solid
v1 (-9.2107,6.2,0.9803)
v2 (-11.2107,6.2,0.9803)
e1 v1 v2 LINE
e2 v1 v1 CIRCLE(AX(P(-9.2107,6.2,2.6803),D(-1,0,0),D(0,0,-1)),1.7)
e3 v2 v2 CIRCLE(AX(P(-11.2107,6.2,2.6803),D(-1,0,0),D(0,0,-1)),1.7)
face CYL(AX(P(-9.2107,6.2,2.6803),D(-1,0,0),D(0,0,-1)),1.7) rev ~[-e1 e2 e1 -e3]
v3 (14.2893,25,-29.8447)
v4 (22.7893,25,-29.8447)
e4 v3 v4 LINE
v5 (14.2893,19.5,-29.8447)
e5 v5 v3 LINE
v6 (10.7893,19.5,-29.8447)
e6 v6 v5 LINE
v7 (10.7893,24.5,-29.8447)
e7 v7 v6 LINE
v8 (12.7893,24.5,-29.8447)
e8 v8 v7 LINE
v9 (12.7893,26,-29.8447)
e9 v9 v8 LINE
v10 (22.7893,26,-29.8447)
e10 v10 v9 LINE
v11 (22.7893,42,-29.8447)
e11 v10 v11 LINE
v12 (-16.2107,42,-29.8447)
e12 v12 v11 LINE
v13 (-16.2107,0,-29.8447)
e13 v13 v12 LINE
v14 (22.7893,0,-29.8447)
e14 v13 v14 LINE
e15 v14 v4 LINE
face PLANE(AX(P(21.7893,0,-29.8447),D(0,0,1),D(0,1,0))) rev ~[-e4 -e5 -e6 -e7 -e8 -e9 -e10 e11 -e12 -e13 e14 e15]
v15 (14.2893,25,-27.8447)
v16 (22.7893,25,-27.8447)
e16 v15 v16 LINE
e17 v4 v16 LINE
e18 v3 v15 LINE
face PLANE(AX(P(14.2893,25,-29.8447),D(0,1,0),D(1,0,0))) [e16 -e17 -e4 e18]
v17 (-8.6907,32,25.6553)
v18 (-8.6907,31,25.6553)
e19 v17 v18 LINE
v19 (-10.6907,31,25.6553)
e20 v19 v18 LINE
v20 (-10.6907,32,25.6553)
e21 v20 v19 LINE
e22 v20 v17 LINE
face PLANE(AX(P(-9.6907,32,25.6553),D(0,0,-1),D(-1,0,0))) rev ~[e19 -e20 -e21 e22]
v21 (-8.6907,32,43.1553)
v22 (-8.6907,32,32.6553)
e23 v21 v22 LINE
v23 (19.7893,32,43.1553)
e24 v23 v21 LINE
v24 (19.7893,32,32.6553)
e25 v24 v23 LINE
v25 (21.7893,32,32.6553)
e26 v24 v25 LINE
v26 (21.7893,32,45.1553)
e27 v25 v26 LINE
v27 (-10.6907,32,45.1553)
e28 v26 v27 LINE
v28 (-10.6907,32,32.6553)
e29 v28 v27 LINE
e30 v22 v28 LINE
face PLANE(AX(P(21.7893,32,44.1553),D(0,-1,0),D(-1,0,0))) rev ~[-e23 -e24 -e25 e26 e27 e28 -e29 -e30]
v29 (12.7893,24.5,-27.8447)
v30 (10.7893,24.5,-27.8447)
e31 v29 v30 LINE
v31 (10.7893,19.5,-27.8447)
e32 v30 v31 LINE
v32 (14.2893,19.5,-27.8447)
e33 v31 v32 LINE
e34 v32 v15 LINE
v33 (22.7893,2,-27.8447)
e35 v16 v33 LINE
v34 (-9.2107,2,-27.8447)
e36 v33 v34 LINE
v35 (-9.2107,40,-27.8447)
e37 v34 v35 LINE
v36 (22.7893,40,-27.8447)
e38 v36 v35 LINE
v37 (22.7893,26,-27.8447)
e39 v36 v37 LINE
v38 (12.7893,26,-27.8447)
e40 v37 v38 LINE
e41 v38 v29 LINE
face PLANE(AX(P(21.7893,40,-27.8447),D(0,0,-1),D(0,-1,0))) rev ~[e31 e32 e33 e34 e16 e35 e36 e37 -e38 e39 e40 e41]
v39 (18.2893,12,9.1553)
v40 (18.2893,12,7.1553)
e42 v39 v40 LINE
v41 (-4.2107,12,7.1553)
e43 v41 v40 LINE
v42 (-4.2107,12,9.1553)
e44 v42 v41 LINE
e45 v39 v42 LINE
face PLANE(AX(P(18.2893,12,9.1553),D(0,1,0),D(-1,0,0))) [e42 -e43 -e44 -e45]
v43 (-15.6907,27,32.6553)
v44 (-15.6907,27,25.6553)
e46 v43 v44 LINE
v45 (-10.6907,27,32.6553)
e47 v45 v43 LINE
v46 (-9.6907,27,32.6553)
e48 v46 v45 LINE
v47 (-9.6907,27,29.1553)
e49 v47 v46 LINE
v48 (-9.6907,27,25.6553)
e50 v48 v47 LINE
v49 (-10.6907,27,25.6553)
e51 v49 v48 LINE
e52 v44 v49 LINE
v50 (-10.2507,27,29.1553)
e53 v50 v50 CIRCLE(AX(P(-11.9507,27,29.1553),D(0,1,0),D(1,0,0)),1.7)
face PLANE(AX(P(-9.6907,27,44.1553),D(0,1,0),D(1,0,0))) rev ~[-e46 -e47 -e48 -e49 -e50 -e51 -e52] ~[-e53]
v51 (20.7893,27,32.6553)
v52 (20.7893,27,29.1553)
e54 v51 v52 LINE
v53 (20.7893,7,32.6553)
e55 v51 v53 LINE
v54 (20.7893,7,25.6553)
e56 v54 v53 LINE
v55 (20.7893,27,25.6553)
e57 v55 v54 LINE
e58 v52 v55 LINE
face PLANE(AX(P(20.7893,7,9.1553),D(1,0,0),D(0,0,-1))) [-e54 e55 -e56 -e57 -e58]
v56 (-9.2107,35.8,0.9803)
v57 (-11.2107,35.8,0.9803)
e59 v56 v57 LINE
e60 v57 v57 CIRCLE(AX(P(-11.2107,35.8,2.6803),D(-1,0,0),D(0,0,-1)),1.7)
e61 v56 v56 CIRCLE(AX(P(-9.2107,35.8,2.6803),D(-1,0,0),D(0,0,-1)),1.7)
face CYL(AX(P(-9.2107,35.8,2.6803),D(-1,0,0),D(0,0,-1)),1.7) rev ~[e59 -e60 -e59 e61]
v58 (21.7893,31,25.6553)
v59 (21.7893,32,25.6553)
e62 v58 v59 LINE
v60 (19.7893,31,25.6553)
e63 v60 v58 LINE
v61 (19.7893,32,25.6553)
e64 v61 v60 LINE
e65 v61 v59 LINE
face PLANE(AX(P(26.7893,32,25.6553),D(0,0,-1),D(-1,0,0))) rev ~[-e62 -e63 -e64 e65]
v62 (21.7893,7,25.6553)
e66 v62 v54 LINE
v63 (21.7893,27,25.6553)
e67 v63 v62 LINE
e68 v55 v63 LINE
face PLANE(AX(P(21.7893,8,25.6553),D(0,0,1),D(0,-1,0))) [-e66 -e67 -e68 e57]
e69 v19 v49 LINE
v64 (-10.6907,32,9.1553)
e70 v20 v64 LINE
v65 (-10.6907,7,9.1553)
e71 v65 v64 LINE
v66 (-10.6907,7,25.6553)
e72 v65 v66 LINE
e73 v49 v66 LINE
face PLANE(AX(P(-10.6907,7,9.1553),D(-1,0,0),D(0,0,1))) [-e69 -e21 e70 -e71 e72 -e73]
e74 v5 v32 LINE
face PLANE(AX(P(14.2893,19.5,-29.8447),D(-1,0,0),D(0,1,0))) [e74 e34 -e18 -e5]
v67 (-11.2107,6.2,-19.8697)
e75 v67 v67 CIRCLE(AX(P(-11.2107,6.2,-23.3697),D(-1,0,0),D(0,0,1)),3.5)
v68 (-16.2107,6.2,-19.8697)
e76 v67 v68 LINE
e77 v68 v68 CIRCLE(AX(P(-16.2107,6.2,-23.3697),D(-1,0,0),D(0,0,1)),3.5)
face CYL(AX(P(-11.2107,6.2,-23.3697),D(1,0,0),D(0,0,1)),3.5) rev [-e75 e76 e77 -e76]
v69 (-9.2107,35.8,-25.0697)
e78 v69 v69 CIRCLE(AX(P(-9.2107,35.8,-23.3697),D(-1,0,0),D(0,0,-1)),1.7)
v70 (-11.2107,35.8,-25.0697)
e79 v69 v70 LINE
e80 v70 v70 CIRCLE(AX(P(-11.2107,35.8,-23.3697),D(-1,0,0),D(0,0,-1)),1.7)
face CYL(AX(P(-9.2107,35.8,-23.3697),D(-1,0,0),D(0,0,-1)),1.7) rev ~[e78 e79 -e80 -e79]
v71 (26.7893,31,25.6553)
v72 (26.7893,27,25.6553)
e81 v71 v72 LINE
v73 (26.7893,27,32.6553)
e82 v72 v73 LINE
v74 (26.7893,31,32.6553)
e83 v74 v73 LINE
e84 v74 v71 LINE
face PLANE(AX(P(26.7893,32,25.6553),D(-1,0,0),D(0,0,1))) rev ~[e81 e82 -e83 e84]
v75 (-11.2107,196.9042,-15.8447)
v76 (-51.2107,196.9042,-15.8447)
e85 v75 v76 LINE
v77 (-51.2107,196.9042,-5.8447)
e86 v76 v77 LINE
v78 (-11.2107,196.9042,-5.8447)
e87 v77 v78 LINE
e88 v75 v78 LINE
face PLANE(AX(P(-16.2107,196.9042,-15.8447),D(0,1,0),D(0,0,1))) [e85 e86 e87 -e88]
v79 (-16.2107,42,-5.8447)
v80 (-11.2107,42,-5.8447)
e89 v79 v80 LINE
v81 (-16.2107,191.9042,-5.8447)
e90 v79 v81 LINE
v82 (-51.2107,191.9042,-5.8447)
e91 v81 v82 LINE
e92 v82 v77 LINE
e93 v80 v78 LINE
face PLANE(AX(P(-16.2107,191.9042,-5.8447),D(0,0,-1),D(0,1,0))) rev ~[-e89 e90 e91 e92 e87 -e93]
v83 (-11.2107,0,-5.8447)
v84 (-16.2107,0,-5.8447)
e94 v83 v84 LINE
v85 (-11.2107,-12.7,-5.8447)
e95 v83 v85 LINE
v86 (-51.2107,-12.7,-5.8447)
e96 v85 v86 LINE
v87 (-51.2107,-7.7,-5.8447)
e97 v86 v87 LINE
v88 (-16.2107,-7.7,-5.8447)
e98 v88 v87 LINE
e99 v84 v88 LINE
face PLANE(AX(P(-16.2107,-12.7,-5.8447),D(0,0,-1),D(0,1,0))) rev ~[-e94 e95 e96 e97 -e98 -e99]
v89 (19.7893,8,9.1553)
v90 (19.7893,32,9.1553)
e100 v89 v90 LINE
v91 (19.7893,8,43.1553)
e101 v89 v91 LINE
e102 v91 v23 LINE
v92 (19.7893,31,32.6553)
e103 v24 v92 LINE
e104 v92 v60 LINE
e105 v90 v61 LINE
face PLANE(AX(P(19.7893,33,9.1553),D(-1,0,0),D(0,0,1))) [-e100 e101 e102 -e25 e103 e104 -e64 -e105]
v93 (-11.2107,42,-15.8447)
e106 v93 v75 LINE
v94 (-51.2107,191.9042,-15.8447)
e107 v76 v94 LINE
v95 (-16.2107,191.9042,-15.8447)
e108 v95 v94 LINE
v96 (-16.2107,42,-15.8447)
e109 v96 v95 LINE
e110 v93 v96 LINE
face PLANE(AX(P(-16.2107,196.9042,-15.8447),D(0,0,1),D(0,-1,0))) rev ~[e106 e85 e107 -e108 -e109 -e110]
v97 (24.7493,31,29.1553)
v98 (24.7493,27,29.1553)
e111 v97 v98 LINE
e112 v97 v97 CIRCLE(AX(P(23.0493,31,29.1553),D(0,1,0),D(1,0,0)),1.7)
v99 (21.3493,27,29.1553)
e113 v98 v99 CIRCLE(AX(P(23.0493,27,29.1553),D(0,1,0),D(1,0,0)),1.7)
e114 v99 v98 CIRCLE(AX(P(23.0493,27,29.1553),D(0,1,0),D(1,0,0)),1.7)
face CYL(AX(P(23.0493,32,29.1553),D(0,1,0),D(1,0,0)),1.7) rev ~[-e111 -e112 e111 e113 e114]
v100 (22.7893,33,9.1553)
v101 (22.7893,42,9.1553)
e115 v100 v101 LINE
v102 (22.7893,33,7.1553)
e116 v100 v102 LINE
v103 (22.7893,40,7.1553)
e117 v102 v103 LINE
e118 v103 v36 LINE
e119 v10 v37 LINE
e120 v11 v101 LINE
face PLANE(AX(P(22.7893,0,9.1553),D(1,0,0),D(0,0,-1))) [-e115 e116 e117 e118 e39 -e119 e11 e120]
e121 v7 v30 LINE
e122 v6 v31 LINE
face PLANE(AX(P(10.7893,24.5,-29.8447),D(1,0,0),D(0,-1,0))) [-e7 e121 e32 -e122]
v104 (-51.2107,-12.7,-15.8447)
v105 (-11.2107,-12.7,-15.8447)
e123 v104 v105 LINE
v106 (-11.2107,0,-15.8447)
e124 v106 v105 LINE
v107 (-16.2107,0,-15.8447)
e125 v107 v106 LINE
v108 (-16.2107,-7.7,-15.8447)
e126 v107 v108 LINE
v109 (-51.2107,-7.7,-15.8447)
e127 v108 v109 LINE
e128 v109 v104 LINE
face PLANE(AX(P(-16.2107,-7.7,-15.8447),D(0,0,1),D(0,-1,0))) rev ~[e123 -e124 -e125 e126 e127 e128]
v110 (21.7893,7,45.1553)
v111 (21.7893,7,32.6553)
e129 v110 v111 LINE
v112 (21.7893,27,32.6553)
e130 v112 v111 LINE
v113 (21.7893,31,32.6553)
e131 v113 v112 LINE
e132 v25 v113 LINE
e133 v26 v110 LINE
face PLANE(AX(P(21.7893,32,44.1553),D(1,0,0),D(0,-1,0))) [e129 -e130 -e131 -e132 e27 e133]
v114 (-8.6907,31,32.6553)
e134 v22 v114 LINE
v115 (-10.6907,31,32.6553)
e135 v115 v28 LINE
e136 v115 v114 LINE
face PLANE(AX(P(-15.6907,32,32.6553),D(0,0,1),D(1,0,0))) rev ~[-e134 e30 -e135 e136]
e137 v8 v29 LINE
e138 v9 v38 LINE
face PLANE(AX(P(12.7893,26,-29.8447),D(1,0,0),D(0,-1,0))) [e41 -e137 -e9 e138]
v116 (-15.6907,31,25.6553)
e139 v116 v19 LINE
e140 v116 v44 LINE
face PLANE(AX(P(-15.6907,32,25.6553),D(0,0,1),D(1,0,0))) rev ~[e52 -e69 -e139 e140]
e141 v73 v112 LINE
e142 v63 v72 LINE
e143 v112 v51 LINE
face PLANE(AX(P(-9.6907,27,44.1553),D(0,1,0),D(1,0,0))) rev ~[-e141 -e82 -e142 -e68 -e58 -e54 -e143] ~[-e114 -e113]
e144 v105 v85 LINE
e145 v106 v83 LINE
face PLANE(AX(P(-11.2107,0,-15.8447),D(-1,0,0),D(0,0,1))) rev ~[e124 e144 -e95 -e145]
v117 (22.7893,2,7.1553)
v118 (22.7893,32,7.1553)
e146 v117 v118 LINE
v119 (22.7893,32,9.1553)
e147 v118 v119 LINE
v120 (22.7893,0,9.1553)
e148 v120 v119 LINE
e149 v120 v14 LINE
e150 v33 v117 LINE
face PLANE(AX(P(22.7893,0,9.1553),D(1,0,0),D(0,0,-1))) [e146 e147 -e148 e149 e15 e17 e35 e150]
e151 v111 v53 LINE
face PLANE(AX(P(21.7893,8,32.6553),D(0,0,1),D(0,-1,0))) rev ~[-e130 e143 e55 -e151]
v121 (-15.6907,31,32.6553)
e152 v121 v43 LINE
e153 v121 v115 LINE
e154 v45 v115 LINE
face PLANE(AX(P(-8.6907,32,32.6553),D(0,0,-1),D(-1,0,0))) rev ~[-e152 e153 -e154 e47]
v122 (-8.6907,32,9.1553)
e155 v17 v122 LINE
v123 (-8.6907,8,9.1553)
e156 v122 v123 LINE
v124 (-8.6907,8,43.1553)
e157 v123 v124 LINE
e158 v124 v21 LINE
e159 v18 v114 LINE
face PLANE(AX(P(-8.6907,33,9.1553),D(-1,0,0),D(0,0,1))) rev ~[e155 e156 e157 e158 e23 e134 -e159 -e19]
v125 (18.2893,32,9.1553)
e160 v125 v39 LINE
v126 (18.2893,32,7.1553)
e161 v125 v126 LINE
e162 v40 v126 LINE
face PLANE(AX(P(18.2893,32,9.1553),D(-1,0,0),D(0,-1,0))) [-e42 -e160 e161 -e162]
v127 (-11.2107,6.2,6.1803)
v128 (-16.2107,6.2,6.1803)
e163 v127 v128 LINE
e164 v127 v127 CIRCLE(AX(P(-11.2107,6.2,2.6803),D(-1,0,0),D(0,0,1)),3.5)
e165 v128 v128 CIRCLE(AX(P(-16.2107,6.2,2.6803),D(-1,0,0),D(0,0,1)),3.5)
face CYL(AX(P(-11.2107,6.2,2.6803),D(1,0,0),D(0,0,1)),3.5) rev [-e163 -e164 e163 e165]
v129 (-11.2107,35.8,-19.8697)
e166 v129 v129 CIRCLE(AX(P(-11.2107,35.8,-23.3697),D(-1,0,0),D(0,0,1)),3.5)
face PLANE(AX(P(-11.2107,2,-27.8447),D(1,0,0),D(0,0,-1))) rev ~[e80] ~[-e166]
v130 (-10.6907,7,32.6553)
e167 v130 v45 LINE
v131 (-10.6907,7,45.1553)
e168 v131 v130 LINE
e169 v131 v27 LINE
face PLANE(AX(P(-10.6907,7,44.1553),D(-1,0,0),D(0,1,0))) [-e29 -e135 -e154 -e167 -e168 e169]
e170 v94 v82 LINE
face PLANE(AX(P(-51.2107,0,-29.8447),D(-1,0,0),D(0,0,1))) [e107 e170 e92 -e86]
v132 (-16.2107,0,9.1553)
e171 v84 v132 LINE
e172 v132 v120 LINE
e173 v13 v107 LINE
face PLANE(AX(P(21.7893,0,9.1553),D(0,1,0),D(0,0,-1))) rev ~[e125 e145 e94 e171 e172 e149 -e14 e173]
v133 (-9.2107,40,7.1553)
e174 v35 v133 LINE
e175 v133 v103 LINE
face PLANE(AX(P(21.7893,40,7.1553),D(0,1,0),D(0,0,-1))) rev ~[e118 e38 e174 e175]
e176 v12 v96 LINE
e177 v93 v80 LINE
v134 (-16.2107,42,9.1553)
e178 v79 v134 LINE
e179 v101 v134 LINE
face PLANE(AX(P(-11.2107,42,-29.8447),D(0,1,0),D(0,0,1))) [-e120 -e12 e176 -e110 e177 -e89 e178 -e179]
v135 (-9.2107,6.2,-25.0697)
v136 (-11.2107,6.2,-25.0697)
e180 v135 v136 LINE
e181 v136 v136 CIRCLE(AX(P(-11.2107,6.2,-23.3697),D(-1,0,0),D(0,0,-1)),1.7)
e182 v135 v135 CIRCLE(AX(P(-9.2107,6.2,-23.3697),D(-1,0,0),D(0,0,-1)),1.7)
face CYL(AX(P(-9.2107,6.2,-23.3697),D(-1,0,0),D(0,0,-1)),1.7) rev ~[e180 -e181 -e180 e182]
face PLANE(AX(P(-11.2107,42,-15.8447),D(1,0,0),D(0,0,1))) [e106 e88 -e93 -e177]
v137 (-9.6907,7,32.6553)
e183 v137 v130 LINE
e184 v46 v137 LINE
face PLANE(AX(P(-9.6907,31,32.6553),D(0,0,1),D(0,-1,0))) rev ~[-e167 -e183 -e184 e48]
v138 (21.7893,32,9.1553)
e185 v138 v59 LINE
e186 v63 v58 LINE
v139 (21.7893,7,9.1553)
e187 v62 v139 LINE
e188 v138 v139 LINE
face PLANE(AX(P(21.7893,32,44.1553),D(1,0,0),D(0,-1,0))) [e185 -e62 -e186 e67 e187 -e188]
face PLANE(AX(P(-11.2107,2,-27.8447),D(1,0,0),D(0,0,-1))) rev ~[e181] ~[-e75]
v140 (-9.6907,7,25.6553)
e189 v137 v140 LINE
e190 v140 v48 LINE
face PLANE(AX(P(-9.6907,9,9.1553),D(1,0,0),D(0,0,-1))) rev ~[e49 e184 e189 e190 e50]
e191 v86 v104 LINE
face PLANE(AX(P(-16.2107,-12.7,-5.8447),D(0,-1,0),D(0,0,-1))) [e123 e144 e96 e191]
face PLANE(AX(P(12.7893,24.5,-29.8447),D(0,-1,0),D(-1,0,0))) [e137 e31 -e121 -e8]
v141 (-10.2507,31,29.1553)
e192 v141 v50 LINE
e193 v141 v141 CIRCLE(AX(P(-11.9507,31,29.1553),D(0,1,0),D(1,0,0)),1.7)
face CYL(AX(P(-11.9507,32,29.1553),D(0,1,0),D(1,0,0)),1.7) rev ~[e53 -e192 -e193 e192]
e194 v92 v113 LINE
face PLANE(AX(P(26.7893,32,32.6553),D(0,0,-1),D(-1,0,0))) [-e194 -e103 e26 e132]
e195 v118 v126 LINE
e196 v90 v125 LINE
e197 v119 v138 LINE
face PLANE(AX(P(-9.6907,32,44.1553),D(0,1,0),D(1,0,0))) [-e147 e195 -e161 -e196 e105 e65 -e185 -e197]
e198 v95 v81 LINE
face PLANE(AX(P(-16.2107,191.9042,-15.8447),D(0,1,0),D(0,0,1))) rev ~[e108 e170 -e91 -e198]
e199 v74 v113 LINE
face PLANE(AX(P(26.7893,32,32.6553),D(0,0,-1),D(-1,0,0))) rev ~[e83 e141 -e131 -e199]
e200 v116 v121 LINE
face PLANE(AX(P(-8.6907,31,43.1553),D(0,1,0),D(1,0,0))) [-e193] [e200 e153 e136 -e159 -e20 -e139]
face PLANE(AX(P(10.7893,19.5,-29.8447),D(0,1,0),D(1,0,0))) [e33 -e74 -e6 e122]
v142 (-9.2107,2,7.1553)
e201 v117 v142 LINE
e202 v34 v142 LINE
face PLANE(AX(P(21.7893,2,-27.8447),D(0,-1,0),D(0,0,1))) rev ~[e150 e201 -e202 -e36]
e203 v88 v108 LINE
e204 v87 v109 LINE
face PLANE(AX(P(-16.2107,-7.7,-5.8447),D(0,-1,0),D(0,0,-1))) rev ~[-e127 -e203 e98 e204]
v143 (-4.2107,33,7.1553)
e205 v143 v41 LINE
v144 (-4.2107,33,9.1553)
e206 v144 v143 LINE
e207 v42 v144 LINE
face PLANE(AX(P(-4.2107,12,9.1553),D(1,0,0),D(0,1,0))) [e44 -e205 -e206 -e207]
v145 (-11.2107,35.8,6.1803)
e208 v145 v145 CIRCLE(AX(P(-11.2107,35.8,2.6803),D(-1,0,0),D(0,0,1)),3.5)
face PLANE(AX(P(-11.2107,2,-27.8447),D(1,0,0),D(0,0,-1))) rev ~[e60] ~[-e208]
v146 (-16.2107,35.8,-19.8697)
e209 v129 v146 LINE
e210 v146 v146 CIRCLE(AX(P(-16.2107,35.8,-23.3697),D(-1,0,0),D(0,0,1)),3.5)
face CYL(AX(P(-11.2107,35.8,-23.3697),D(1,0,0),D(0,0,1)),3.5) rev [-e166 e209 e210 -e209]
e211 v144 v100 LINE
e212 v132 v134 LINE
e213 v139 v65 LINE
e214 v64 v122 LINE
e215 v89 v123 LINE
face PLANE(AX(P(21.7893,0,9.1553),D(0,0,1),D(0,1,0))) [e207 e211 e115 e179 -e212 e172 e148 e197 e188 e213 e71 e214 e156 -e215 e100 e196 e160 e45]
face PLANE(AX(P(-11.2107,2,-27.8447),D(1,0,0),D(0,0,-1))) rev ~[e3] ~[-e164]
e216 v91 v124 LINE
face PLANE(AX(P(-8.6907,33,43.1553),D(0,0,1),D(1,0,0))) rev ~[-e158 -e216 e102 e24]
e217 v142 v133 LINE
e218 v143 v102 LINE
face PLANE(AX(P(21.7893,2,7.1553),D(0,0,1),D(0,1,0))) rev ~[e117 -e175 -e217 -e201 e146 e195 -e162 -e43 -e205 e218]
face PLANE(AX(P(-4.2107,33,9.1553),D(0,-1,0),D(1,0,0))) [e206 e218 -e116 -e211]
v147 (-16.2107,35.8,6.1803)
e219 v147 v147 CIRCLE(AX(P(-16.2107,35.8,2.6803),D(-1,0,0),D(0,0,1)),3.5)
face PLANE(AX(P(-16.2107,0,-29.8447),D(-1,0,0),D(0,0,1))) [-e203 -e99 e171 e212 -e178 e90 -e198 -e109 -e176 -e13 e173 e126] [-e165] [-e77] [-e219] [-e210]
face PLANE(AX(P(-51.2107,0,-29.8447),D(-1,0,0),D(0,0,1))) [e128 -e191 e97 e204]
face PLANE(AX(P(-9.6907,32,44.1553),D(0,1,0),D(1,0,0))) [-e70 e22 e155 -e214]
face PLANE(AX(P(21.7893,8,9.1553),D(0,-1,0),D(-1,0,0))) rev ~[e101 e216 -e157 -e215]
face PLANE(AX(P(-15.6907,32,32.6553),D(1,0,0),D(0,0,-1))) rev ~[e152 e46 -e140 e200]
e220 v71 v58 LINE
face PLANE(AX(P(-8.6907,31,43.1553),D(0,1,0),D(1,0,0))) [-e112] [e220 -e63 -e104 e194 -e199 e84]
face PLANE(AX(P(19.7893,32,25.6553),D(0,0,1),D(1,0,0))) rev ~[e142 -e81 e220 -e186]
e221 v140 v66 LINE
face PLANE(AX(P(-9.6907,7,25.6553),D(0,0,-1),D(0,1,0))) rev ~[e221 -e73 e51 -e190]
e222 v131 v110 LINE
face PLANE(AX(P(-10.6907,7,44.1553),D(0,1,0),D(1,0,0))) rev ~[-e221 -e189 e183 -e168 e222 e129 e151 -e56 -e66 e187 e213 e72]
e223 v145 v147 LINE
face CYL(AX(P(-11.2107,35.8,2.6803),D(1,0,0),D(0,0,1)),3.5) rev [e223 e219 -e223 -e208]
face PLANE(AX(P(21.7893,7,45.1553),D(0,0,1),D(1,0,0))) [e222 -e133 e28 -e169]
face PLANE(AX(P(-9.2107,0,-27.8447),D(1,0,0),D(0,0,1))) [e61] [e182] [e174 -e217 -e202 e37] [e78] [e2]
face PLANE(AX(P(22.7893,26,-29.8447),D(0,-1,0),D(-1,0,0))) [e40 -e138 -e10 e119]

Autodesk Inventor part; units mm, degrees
ref_plane "YZ Plane" through (0, 0, 0) normal (1, 0, 0) x (0, 1, 0)
ref_plane "XZ Plane" through (0, 0, 0) normal (0, 1, 0) x (-1, 0, 0)
ref_plane "XY Plane" through (0, 0, 0) normal (0, 0, 1) x (1, 0, 0)
sketch "Sketch1" plane through (0, 0, 0) normal (0, 1, 0) x (-1, 0, 0)
  line L0 (9.2107, 7.1553) -> (-19.7893, 7.1553)
  line L1 (-19.7893, 7.1553) -> (-19.7893, -27.8447)
  line L2 (-19.7893, -27.8447) -> (9.2107, -27.8447)
  line L3 (9.2107, -27.8447) -> (9.2107, 7.1553)
  line L4 (9.2107, 7.1553) -> (11.2107, 7.1553)
  line L5 (11.2107, 7.1553) -> (11.2107, 9.1553)
  line L6 (11.2107, 9.1553) -> (-21.7893, 9.1553)
  line L7 (-21.7893, 9.1553) -> (-21.7893, -29.8447)
  line L8 (-21.7893, -29.8447) -> (11.2107, -29.8447)
  line L9 (11.2107, -29.8447) -> (11.2107, 7.1553)
  point P0 (0, 0)
  dimension "d0" = 29
  dimension "d1" = 35
  dimension "d2" = 2
  dimension "d3" = 2
  dimension "d4" = 33
  dimension "d5" = 39
extrude "Extrusion1" add sketch "Sketch1" along normal blind 2 contours L3 L2 L1 L0
extrude "Extrusion2" add sketch "Sketch1" along normal blind 40
sketch "Sketch2" plane through (21.7893, 0, -29.8447) normal (1, 0, 0) x (0, 0, -1)
  line L0 (-37, 2) -> (-37, 40) projected
  line L1 (-37, 40) -> (-37, 2)
  line L2 (-2, 2) -> (-2, 40) projected
  line L3 (-37, 2) -> (-2, 2)
  line L4 (-2, 2) -> (-2, 40)
  line L5 (-37, 40) -> (-2, 40) projected
  line L6 (-2, 40) -> (-37, 40)
extrude "Extrusion3" cut sketch "Sketch2" against normal blind 10
sketch "Sketch3" plane through (-9.2107, 2, -27.8447) normal (1, 0, 0) x (0, 0, -1)
  line L0 (0, 0) -> (0, 38) projected
  line L1 (0, 0) -> (0, 4.2)
  line L2 (0, 4.2) -> (-4.475, 4.2)
  line L3 (-35, 0) -> (-35, 38) projected
  line L4 (-4.475, 4.2) -> (-30.525, 4.2)
  line L5 (-30.525, 4.2) -> (-30.525, 33.8)
  line L6 (-30.525, 33.8) -> (-4.475, 33.8)
  line L7 (-4.475, 33.8) -> (-4.475, 4.2)
  point P0 (-27.8447, -2)
  dimension "d12" = 4.2
  dimension "d13" = 4.475
  dimension "d14" = 26.05
  dimension "d15" = 29.6
hole "Hole1" at (-9.2107, 35.8, 2.6803) at (-9.2107, 35.8, -23.3697) at (-9.2107, 6.2, -23.3697) at (-9.2107, 6.2, 2.6803) direction (-1, 0, 0) diameter 3.4 end through all clearance for "Flat Head Machine Screw" size "M3" standard "Ansi Metric M Profile"
sketch "Sketch4" plane through (-11.2107, 2, -27.8447) normal (1, 0, 0) x (0, 0, -1)
  line L0 (-37, 38) -> (-35, 38) projected
  line L1 (-37, 38) -> (2, 38)
  line L2 (2, 38) -> (2, 40)
  line L3 (2, 40) -> (-37, 40)
  line L4 (-37, 40) -> (-37, 38)
  point P0 (-27.8447, -2)
  dimension "d23" = 39
  dimension "d24" = 2
extrude "Extrusion4" add sketch "Sketch4" along normal blind 33
sketch "Sketch5" plane through (21.7893, 0, 9.1553) normal (1, 0, 0) x (0, 0, -1)
  point P0 (9.1553, 0)
sketch "Sketch6" plane through (-11.2107, 0, -29.8447) normal (-1, 0, 0) x (0, 0, 1)
  point P0 (29.8447, 0)
sketch "Sketch7" plane through (-11.2107, 0, -29.8447) normal (-1, 0, 0) x (0, 0, 1)
  circle A0 centre (6.475, 6.2) radius 1.7 projected
  circle A1 centre (32.525, 35.8) radius 1.7 projected
  circle A2 centre (6.475, 35.8) radius 1.7 projected
  circle A3 centre (32.525, 6.2) radius 1.7 projected
  line L0 (0, 0) -> (39, 0) projected
  line L1 (39, 0) -> (39, 42) projected
  line L2 (0, 42) -> (39, 42) projected
  line L3 (0, 0) -> (0, 42) projected
  circle A4 centre (6.475, 6.2) radius 1.7 projected
  circle A5 centre (6.475, 6.2) radius 3.5
  circle A6 centre (6.475, 35.8) radius 3.5
  circle A7 centre (32.525, 35.8) radius 3.5
  circle A8 centre (32.525, 6.2) radius 1.7 projected
  circle A9 centre (32.525, 6.2) radius 3.5
  point P0 (29.8447, 0)
  dimension "d27" = 7
  dimension "d28" = 7
  dimension "d29" = 7
  dimension "d30" = 7
extrude "Extrusion5" add sketch "Sketch7" along normal blind 5 contours L3 L2 L1 L0
sketch "Sketch8" plane through (21.7893, 0, 9.1553) normal (0, 0, 1) x (1, 0, 0)
  line L0 (0, 0) -> (0, 42) projected
  line L1 (0, 42) -> (0, 32)
  line L2 (0, 32) -> (-3.5, 32)
  line L3 (-3.5, 32) -> (-3.5, 12)
  line L4 (-3.5, 32) -> (16.5, 32) construction
  line L5 (-3.5, 12) -> (-26, 12)
  line L6 (-26, 12) -> (-26, 32)
  line L7 (-26, 32) -> (-3.5, 32)
  point P0 (-21.7893, 0)
  dimension "d33" = 10
  dimension "d34" = 3.5
  dimension "d35" = 20
  dimension "d36" = 90
  dimension "d37" = 22.5
extrude "Extrusion6" cut sketch "Sketch8" against normal blind 10
sketch "Sketch9" plane through (21.7893, 0, 9.1553) normal (0, 0, 1) x (1, 0, 0)
  line L0 (-26, 32) -> (-3.5, 32) projected
  line L1 (-26, 32) -> (-26, 33)
  line L2 (-26, 33) -> (0, 33)
  line L3 (0, 2) -> (0, 40) projected
  line L4 (0, 32) -> (-10.0622, 32)
  point P0 (-21.7893, 0)
  dimension "d40" = 1
extrude "Extrusion7" cut sketch "Sketch9" against normal blind 10
sketch "Sketch10" plane through (-16.2107, 42, 9.1553) normal (0, 0, 1) x (1, 0, 0)
  line L0 (38, -10) -> (34.5, -10) projected
  line L1 (38, -10) -> (38, -34)
  line L2 (38, -40) -> (38, -10) projected
  line L3 (0, -42) -> (0, 0) projected
  line L4 (38, -34) -> (7.52, -34)
  line L5 (7, -40) -> (7, -2) projected
  line L6 (7.52, -34) -> (7.52, -10)
  line L7 (7.52, -10) -> (38, -10)
  line L8 (38, -34) -> (38, -35)
  line L9 (38, -35) -> (6.52, -35)
  line L10 (6.52, -35) -> (6.52, -9)
  line L11 (6.52, -9) -> (38, -9)
  line L12 (38, -2) -> (38, -40) projected
  line L13 (38, -10) -> (38, -9)
  point P0 (16.2107, -42)
  dimension "d43" = 24
  dimension "d44" = 30.48
  dimension "d45" = 1
  dimension "d46" = 31.48
  dimension "d47" = 26
extrude "Extrusion8" add sketch "Sketch10" along normal blind 34 contours L0 L7 L6 L4 L2 L9 L5 L11 L12 | L5 L9 L10 L11
sketch "Sketch11" plane through (-9.6907, 9, 9.1553) normal (1, 0, 0) x (0, 0, -1)
  line L0 (-34, -2) -> (-34, -1) projected
  line L1 (-34, -2) -> (-35, -2)
  line L2 (-35, -2) -> (-35, 24)
  line L3 (0, 24) -> (-34, 24) projected
  line L4 (-35, 24) -> (-34, 24)
  line L5 (-34, 24) -> (-34, -2)
  point P0 (9.1553, -9)
  point P1 (0, 26)
  point P2 (-34, -1)
  dimension "d50" = 1
extrude "Extrusion9" add sketch "Sketch11" along normal blind 29.48
sketch "Sketch16" plane through (-9.6907, 7, 9.1553) normal (0, -1, 0) x (1, 0, 0)
  line L0 (0, 35) -> (29.48, 35) projected
  line L1 (29.48, 35) -> (30.48, 35)
  line L2 (30.48, 35) -> (30.48, 0)
  line L3 (30.48, 0) -> (29.48, 0)
  line L4 (29.48, 0) -> (29.48, 35)
  point P0 (9.6907, -9.1553)
  dimension "d69" = 1
  dimension "d70" = 35
extrude "Extrusion14" add sketch "Sketch16" against normal blind 26
sketch "Sketch17" plane through (-4.2107, 33, 9.1553) normal (0, 1, 0) x (1, 0, 0)
  line L0 (24, 0) -> (24, -34) projected
  line L1 (-4.48, -34) -> (24, -34) projected
  line L2 (24, -34) -> (-4.48, -34)
  line L3 (-4.48, 0) -> (-4.48, -34) projected
  line L4 (-4.48, -34) -> (-4.48, 0)
  line L5 (-4.48, 0) -> (26, 0)
  line L6 (25, -34) -> (25, 0) projected
  line L7 (0, 0) -> (26, 0) projected
  line L8 (-5.48, 0) -> (0, 0) projected
  line L9 (-5.48, 0) -> (-5.48, -35) projected
  line L10 (-5.48, -35) -> (25, -35) projected
  line L11 (25, -35) -> (25, -34) projected
  line L12 (26, -34) -> (25, -34) projected
  line L13 (26, 0) -> (26, -34) projected
  point P0 (4.2107, 9.1553)
extrude "Extrusion15" cut sketch "Sketch17" against normal blind 10 contours L0 L1 L3 L5
sketch "Sketch18" plane through (-9.6907, 33, 44.1553) normal (0, 1, 0) x (1, 0, 0)
  line L0 (1, 1) -> (1, 35) projected
  line L1 (0, 35) -> (1, 35) projected
  line L2 (0, 35) -> (0, 0) projected
  line L3 (0, 0) -> (30.48, 0) projected
  line L4 (30.48, 0) -> (30.48, 1) projected
  line L5 (29.48, 1) -> (1, 1) projected
  line L6 (31.48, 1) -> (30.48, 1) projected
  line L7 (31.48, 35) -> (31.48, 1) projected
  line L8 (29.48, 35) -> (29.48, 1) projected
  line L9 (29.48, 35) -> (31.48, 35) projected
  point P0 (9.6907, 44.1553)
extrude "Extrusion16" cut sketch "Sketch18" against normal blind 1
sketch "Sketch19" plane through (21.7893, 0, 9.1553) normal (1, 0, 0) x (0, 0, -1)
  line L0 (0, 0) -> (0, 7) projected
  line L1 (0, 0) -> (39, 0) projected
  line L2 (39, 0) -> (39, 42) projected
  line L3 (39, 42) -> (0, 42) projected
  line L4 (0, 33) -> (0, 42) projected
  line L5 (0, 33) -> (2, 33) projected
  line L6 (2, 33) -> (2, 40) projected
  line L7 (2, 40) -> (37, 40) projected
  line L8 (37, 40) -> (37, 2) projected
  line L9 (37, 2) -> (2, 2) projected
  line L10 (2, 2) -> (2, 32) projected
  line L11 (2, 32) -> (0, 32) projected
  line L12 (0, 8) -> (0, 32) projected
  line L13 (0, 8) -> (-34, 8) projected
  line L14 (-34, 7) -> (-34, 8) projected
  line L15 (0, 7) -> (-34, 7) projected
  line L16 (0, 7) -> (0, 8)
  line L17 (0, 0) -> (0, 42) projected
  point P0 (9.1553, 0)
extrude "Extrusion17" add sketch "Sketch19" along normal blind 1 contours L0 L16 L12 L11 L10 L9 L8 L7 L6 L5 L4 L3 L2 L1
sketch "Sketch20" plane through (-9.6907, 32, 44.1553) normal (0, 1, 0) x (1, 0, 0)
  line L0 (29.48, 1) -> (1, 1) projected
  line L1 (15.24, 1) -> (15.24, 15)
  line L2 (15.24, 15) -> (32.74, 15)
  line L3 (32.74, 15) -> (-2.26, 15)
  line L4 (1, 35) -> (1, 1) projected
  line L5 (1, 15) -> (1, 11.5)
  line L6 (1, 11.5) -> (-6, 11.5)
  line L7 (-6, 11.5) -> (-6, 18.5)
  line L8 (-6, 18.5) -> (1, 18.5)
  line L9 (1, 11.5) -> (1, 18.5)
  line L10 (29.48, 1) -> (29.48, 35) projected
  line L11 (29.48, 18.5) -> (36.48, 18.5)
  line L12 (36.48, 18.5) -> (36.48, 11.5)
  line L13 (36.48, 11.5) -> (29.48, 11.5)
  circle A0 centre (-2.26, 15) radius 1.7
  circle A1 centre (32.74, 15) radius 1.7
  point P0 (9.6907, 44.1553)
  point P1 (30.48, 1)
  dimension "d79" = 14
  dimension "d80" = 17.5
  dimension "d81" = 90
  dimension "d82" = 35
  dimension "d83" = 3.5
  dimension "d84" = 7
  dimension "d85" = 7
  dimension "d86" = 7
  dimension "d87" = 3.4
  dimension "d88" = 3.4
extrude "Extrusion18" add sketch "Sketch20" against normal blind 5 contours L10 L11 L12 L13 | L6 L7 L8 L4
sketch "Sketch21" plane through (-8.6907, 32, 43.1553) normal (0, 1, 0) x (1, 0, 0)
  line L0 (29.48, 17.5) -> (29.48, 10.5) projected
  line L1 (29.48, 17.5) -> (28.48, 17.5)
  line L2 (28.48, 0) -> (28.48, 34) projected
  line L3 (35.48, 10.5) -> (29.48, 10.5) projected
  line L4 (29.48, 10.5) -> (28.48, 10.5)
  line L5 (28.48, 10.5) -> (28.48, 17.5)
  line L6 (-1, 17.5) -> (-7, 17.5) projected
  line L7 (-1, 17.5) -> (0, 17.5)
  line L8 (0, 34) -> (0, 0) projected
  line L9 (-1, 10.5) -> (-1, 17.5)
  line L10 (-1, 34) -> (-1, -1) projected
  line L11 (-1, -1) -> (-1, 10.5) projected
  line L12 (-1, 10.5) -> (0, 10.5)
  line L13 (0, 10.5) -> (0, 17.5)
  line L14 (29.48, 10.5) -> (29.48, -1) projected
  line L15 (26.98, 36) -> (31.48, 36) projected
  line L16 (26.98, 34) -> (26.98, 36) projected
  line L17 (28.48, 34) -> (26.98, 34) projected
  line L18 (0, 34) -> (0, 0) projected
  line L19 (-1, 34) -> (0, 34) projected
  line L20 (-1, 17.5) -> (-1, 34) projected
  line L21 (-1, 17.5) -> (-7, 17.5) projected
  line L22 (-7, 17.5) -> (-7, 10.5) projected
  line L23 (-7, 10.5) -> (-1, 10.5) projected
  line L24 (-1, -1) -> (-1, 10.5) projected
  line L25 (29.48, -1) -> (-1, -1) projected
  line L26 (31.48, 34) -> (29.48, 34) projected
  line L27 (31.48, 36) -> (31.48, 34) projected
  line L28 (28.48, 0) -> (28.48, 34) projected
  line L29 (0, 0) -> (28.48, 0) projected
  line L30 (29.48, 10.5) -> (35.48, 10.5) projected
  line L31 (35.48, 10.5) -> (35.48, 17.5) projected
  line L32 (35.48, 17.5) -> (29.48, 17.5) projected
  line L33 (29.48, 34) -> (29.48, 17.5) projected
  point P0 (8.6907, 43.1553)
  point P1 (30.1371, 10.5)
  point P2 (29.48, 17.5)
  point P3 (-7, 17.5)
extrude "Extrusion19" cut sketch "Sketch21" against normal blind 1 contours L32 L31 L3 L0 | L0 L4 L2 L1 | L23 L22 L6 L9 | L9 L7 L8 L12
sketch "Sketch30" plane through (20.7893, 7, 44.1553) normal (1, 0, 0) x (0, 0, -1)
  line L0 (11.5, 25) -> (0, 25) projected
  line L1 (0, 0) -> (0, 25) projected
  line L2 (1, 0) -> (0, 0) projected
  line L3 (1, 0) -> (0, 0) projected
  line L4 (35, 0) -> (37, 0)
  line L5 (1, 1) -> (1, 0) projected
  line L6 (35, 1) -> (1, 1) projected
  line L7 (35, 25) -> (35, 1) projected
  line L8 (35, 25) -> (18.5, 25) projected
  line L9 (18.5, 24) -> (18.5, 20) projected
  line L10 (18.5, 20) -> (11.5, 20) projected
  line L11 (11.5, 20) -> (11.5, 24) projected
  line L12 (18.5, 25) -> (18.5, 24) projected
  line L13 (11.5, 24) -> (11.5, 25) projected
  line L14 (18.5, 20) -> (18.5, 0)
  line L15 (35, 0) -> (0, 0) projected
  line L16 (11.5, 20) -> (18.5, 20) projected
  line L17 (11.5, 20) -> (11.5, 0)
  line L18 (35, 1) -> (1, 1) projected
  line L19 (11.5, 1) -> (11.5, 0)
  line L20 (35, 0) -> (1, 0) projected
  line L21 (18.5, 1) -> (18.5, 0)
  point P0 (44.1553, -7)
extrude "Extrusion25" add sketch "Sketch30" along normal blind 1 contours L13 L11 L17 L6 L5 L2 L1 L0 | L9 L12 L8 L7 L6 L14
sketch "Sketch31" plane through (-9.6907, 7, 9.1553) normal (-1, 0, 0) x (0, 0, 1)
  line L0 (16.5, 20) -> (16.5, 24) projected
  line L1 (16.5, 25) -> (0, 25) projected
  line L2 (0, 0) -> (0, 25) projected
  line L3 (0, 0) -> (35, 0) projected
  line L4 (35, 25) -> (35, 0) projected
  line L5 (35, 25) -> (23.5, 25) projected
  line L6 (23.5, 24) -> (23.5, 20) projected
  line L7 (23.5, 20) -> (16.5, 20) projected
  line L8 (23.5, 25) -> (23.5, 24) projected
  line L9 (16.5, 24) -> (16.5, 25) projected
  line L10 (0, 0) -> (35, 0) projected
  line L11 (16.5, 20) -> (23.5, 20)
  line L12 (23.5, 20) -> (23.5, 0)
  line L13 (23.5, 0) -> (16.5, 0)
  line L14 (16.5, 0) -> (16.5, 20)
  point P0 (-9.1553, -7)
  point P1 (23.5, 20)
  point P2 (23.5, 0)
  point P3 (16.5, 0)
extrude "Extrusion26" add sketch "Sketch31" along normal blind 1 contours L14 L3 L2 L1 L9 L0 | L6 L8 L5 L4 L3 L12
sketch "Sketch32" plane through (21.7893, 7, 44.1553) normal (0, 0, 1) x (1, 0, 0)
  line L0 (0, 25) -> (-32.48, 25) projected
  line L1 (-32.48, 0) -> (-32.48, 25) projected
  line L2 (-32.48, 0) -> (0, 0) projected
  line L3 (0, 25) -> (0, 0) projected
  point P0 (-21.7893, -7)
extrude "Extrusion27" add sketch "Sketch32" along normal blind 1
sketch "Sketch25" plane through (0, 0, 0) normal (0, -1, 0) x (1, 0, 0)
  line L0 (-16.2107, -29.8447) -> (-16.2107, 9.1553) projected
  line L1 (-16.2107, 9.1553) -> (-16.2107, -5.8447)
  line L2 (-16.2107, -5.8447) -> (-16.2107, -15.8447)
  line L3 (-16.2107, -15.8447) -> (-11.2107, -15.8447)
  line L4 (-11.2107, -15.8447) -> (-11.2107, -5.8447)
  line L5 (-11.2107, -5.8447) -> (-16.2107, -5.8447)
  point P0 (0, 0)
  dimension "d118" = 15
  dimension "d119" = 10
  dimension "d120" = 5
extrude "Extrusion21" add sketch "Sketch25" along normal blind 12.7
sketch "Sketch26" plane through (-16.2107, 0, -29.8447) normal (-1, 0, 0) x (0, 0, 1)
  line L0 (24, -12.7) -> (14, -12.7) projected
  line L1 (24, -12.7) -> (24, -7.7)
  line L2 (24, 0) -> (24, -12.7) projected
  line L3 (24, -7.7) -> (14, -7.7)
  line L4 (14, 0) -> (14, -12.7) projected
  line L5 (14, -12.7) -> (14, -7.7)
  point P0 (29.8447, 0)
  dimension "d123" = 5
extrude "Extrusion22" add sketch "Sketch26" along normal blind 35
sketch "Sketch27" plane through (-16.2107, 42, 9.1553) normal (0, 1, 0) x (1, 0, 0)
  line L0 (0, 25) -> (0, 15) projected
  line L1 (5, 25) -> (0, 25) projected
  line L2 (0, 25) -> (5, 25)
  line L3 (0, 15) -> (5, 15) projected
  line L4 (5, 25) -> (5, 15)
  line L5 (5, 15) -> (0, 15)
  point P0 (16.2107, 9.1553)
extrude "Extrusion23" add sketch "Sketch27" along normal blind 154.9042
sketch "Sketch28" plane through (-16.2107, 0, -29.8447) normal (-1, 0, 0) x (0, 0, 1)
  line L0 (14, 196.9042) -> (24, 196.9042) projected
  line L1 (14, 196.9042) -> (14, 191.9042)
  line L2 (14, 42) -> (14, 196.9042) projected
  line L3 (14, 191.9042) -> (24, 191.9042)
  line L4 (24, 42) -> (24, 196.9042) projected
  line L5 (24, 196.9042) -> (14, 196.9042)
  point P0 (29.8447, 0)
  dimension "d128" = 5
extrude "Extrusion24" add sketch "Sketch28" along normal blind 35
sketch "Sketch34" plane through (21.7893, 7, 9.1553) normal (1, 0, 0) x (0, 0, -1)
  line L0 (-16.5, 1) -> (-23.5, 1) projected
  line L1 (-23.5, 1) -> (-23.5, 0)
  line L2 (0, 0) -> (-36, 0) projected
  line L3 (-23.5, 1) -> (-23.5, 20) projected
  line L4 (-16.5, 1) -> (-16.5, 20) projected
  line L5 (-23.5, 1) -> (-16.5, 1)
  line L6 (-16.5, 20) -> (-16.5, 0) projected
  line L7 (-16.5, 1) -> (-16.5, 0)
  line L8 (-16.5, 0) -> (-23.5, 0)
  point P0 (9.1553, -7)
extrude "Extrusion28" cut sketch "Sketch34" against normal blind 1
sketch "Sketch35" plane through (-16.2107, 0, -29.8447) normal (0, 0, -1) x (-1, 0, 0)
  line L0 (0, 42) -> (-39, 42) projected
  line L1 (-39, 42) -> (-39, 26)
  line L2 (-39, 0) -> (-39, 42) projected
  line L3 (-39, 26) -> (-29, 26)
  line L4 (-29, 26) -> (-29, 24.5)
  line L5 (-29, 24.5) -> (-27, 24.5)
  line L6 (-27, 24.5) -> (-27, 19.5)
  line L7 (-27, 19.5) -> (-30.5, 19.5)
  line L8 (-30.5, 24.5) -> (-39, 24.5)
  line L9 (-30.5, 19.5) -> (-30.5, 25)
  line L10 (-30.5, 25) -> (-39, 25)
  line L11 (-39, 26) -> (-39, 25)
  point P0 (-16.2107, 0)
  dimension "d139" = 16
  dimension "d140" = 10
  dimension "d141" = 1.5
  dimension "d142" = 2
  dimension "d143" = 5
  dimension "d144" = 3.5
  dimension "d145" = 5.5
extrude "Extrusion29" cut sketch "Sketch35" against normal blind 10 contours L2 L3 L4 L5 L6 L7 L9 L10
properties part number "shell 4.0"
